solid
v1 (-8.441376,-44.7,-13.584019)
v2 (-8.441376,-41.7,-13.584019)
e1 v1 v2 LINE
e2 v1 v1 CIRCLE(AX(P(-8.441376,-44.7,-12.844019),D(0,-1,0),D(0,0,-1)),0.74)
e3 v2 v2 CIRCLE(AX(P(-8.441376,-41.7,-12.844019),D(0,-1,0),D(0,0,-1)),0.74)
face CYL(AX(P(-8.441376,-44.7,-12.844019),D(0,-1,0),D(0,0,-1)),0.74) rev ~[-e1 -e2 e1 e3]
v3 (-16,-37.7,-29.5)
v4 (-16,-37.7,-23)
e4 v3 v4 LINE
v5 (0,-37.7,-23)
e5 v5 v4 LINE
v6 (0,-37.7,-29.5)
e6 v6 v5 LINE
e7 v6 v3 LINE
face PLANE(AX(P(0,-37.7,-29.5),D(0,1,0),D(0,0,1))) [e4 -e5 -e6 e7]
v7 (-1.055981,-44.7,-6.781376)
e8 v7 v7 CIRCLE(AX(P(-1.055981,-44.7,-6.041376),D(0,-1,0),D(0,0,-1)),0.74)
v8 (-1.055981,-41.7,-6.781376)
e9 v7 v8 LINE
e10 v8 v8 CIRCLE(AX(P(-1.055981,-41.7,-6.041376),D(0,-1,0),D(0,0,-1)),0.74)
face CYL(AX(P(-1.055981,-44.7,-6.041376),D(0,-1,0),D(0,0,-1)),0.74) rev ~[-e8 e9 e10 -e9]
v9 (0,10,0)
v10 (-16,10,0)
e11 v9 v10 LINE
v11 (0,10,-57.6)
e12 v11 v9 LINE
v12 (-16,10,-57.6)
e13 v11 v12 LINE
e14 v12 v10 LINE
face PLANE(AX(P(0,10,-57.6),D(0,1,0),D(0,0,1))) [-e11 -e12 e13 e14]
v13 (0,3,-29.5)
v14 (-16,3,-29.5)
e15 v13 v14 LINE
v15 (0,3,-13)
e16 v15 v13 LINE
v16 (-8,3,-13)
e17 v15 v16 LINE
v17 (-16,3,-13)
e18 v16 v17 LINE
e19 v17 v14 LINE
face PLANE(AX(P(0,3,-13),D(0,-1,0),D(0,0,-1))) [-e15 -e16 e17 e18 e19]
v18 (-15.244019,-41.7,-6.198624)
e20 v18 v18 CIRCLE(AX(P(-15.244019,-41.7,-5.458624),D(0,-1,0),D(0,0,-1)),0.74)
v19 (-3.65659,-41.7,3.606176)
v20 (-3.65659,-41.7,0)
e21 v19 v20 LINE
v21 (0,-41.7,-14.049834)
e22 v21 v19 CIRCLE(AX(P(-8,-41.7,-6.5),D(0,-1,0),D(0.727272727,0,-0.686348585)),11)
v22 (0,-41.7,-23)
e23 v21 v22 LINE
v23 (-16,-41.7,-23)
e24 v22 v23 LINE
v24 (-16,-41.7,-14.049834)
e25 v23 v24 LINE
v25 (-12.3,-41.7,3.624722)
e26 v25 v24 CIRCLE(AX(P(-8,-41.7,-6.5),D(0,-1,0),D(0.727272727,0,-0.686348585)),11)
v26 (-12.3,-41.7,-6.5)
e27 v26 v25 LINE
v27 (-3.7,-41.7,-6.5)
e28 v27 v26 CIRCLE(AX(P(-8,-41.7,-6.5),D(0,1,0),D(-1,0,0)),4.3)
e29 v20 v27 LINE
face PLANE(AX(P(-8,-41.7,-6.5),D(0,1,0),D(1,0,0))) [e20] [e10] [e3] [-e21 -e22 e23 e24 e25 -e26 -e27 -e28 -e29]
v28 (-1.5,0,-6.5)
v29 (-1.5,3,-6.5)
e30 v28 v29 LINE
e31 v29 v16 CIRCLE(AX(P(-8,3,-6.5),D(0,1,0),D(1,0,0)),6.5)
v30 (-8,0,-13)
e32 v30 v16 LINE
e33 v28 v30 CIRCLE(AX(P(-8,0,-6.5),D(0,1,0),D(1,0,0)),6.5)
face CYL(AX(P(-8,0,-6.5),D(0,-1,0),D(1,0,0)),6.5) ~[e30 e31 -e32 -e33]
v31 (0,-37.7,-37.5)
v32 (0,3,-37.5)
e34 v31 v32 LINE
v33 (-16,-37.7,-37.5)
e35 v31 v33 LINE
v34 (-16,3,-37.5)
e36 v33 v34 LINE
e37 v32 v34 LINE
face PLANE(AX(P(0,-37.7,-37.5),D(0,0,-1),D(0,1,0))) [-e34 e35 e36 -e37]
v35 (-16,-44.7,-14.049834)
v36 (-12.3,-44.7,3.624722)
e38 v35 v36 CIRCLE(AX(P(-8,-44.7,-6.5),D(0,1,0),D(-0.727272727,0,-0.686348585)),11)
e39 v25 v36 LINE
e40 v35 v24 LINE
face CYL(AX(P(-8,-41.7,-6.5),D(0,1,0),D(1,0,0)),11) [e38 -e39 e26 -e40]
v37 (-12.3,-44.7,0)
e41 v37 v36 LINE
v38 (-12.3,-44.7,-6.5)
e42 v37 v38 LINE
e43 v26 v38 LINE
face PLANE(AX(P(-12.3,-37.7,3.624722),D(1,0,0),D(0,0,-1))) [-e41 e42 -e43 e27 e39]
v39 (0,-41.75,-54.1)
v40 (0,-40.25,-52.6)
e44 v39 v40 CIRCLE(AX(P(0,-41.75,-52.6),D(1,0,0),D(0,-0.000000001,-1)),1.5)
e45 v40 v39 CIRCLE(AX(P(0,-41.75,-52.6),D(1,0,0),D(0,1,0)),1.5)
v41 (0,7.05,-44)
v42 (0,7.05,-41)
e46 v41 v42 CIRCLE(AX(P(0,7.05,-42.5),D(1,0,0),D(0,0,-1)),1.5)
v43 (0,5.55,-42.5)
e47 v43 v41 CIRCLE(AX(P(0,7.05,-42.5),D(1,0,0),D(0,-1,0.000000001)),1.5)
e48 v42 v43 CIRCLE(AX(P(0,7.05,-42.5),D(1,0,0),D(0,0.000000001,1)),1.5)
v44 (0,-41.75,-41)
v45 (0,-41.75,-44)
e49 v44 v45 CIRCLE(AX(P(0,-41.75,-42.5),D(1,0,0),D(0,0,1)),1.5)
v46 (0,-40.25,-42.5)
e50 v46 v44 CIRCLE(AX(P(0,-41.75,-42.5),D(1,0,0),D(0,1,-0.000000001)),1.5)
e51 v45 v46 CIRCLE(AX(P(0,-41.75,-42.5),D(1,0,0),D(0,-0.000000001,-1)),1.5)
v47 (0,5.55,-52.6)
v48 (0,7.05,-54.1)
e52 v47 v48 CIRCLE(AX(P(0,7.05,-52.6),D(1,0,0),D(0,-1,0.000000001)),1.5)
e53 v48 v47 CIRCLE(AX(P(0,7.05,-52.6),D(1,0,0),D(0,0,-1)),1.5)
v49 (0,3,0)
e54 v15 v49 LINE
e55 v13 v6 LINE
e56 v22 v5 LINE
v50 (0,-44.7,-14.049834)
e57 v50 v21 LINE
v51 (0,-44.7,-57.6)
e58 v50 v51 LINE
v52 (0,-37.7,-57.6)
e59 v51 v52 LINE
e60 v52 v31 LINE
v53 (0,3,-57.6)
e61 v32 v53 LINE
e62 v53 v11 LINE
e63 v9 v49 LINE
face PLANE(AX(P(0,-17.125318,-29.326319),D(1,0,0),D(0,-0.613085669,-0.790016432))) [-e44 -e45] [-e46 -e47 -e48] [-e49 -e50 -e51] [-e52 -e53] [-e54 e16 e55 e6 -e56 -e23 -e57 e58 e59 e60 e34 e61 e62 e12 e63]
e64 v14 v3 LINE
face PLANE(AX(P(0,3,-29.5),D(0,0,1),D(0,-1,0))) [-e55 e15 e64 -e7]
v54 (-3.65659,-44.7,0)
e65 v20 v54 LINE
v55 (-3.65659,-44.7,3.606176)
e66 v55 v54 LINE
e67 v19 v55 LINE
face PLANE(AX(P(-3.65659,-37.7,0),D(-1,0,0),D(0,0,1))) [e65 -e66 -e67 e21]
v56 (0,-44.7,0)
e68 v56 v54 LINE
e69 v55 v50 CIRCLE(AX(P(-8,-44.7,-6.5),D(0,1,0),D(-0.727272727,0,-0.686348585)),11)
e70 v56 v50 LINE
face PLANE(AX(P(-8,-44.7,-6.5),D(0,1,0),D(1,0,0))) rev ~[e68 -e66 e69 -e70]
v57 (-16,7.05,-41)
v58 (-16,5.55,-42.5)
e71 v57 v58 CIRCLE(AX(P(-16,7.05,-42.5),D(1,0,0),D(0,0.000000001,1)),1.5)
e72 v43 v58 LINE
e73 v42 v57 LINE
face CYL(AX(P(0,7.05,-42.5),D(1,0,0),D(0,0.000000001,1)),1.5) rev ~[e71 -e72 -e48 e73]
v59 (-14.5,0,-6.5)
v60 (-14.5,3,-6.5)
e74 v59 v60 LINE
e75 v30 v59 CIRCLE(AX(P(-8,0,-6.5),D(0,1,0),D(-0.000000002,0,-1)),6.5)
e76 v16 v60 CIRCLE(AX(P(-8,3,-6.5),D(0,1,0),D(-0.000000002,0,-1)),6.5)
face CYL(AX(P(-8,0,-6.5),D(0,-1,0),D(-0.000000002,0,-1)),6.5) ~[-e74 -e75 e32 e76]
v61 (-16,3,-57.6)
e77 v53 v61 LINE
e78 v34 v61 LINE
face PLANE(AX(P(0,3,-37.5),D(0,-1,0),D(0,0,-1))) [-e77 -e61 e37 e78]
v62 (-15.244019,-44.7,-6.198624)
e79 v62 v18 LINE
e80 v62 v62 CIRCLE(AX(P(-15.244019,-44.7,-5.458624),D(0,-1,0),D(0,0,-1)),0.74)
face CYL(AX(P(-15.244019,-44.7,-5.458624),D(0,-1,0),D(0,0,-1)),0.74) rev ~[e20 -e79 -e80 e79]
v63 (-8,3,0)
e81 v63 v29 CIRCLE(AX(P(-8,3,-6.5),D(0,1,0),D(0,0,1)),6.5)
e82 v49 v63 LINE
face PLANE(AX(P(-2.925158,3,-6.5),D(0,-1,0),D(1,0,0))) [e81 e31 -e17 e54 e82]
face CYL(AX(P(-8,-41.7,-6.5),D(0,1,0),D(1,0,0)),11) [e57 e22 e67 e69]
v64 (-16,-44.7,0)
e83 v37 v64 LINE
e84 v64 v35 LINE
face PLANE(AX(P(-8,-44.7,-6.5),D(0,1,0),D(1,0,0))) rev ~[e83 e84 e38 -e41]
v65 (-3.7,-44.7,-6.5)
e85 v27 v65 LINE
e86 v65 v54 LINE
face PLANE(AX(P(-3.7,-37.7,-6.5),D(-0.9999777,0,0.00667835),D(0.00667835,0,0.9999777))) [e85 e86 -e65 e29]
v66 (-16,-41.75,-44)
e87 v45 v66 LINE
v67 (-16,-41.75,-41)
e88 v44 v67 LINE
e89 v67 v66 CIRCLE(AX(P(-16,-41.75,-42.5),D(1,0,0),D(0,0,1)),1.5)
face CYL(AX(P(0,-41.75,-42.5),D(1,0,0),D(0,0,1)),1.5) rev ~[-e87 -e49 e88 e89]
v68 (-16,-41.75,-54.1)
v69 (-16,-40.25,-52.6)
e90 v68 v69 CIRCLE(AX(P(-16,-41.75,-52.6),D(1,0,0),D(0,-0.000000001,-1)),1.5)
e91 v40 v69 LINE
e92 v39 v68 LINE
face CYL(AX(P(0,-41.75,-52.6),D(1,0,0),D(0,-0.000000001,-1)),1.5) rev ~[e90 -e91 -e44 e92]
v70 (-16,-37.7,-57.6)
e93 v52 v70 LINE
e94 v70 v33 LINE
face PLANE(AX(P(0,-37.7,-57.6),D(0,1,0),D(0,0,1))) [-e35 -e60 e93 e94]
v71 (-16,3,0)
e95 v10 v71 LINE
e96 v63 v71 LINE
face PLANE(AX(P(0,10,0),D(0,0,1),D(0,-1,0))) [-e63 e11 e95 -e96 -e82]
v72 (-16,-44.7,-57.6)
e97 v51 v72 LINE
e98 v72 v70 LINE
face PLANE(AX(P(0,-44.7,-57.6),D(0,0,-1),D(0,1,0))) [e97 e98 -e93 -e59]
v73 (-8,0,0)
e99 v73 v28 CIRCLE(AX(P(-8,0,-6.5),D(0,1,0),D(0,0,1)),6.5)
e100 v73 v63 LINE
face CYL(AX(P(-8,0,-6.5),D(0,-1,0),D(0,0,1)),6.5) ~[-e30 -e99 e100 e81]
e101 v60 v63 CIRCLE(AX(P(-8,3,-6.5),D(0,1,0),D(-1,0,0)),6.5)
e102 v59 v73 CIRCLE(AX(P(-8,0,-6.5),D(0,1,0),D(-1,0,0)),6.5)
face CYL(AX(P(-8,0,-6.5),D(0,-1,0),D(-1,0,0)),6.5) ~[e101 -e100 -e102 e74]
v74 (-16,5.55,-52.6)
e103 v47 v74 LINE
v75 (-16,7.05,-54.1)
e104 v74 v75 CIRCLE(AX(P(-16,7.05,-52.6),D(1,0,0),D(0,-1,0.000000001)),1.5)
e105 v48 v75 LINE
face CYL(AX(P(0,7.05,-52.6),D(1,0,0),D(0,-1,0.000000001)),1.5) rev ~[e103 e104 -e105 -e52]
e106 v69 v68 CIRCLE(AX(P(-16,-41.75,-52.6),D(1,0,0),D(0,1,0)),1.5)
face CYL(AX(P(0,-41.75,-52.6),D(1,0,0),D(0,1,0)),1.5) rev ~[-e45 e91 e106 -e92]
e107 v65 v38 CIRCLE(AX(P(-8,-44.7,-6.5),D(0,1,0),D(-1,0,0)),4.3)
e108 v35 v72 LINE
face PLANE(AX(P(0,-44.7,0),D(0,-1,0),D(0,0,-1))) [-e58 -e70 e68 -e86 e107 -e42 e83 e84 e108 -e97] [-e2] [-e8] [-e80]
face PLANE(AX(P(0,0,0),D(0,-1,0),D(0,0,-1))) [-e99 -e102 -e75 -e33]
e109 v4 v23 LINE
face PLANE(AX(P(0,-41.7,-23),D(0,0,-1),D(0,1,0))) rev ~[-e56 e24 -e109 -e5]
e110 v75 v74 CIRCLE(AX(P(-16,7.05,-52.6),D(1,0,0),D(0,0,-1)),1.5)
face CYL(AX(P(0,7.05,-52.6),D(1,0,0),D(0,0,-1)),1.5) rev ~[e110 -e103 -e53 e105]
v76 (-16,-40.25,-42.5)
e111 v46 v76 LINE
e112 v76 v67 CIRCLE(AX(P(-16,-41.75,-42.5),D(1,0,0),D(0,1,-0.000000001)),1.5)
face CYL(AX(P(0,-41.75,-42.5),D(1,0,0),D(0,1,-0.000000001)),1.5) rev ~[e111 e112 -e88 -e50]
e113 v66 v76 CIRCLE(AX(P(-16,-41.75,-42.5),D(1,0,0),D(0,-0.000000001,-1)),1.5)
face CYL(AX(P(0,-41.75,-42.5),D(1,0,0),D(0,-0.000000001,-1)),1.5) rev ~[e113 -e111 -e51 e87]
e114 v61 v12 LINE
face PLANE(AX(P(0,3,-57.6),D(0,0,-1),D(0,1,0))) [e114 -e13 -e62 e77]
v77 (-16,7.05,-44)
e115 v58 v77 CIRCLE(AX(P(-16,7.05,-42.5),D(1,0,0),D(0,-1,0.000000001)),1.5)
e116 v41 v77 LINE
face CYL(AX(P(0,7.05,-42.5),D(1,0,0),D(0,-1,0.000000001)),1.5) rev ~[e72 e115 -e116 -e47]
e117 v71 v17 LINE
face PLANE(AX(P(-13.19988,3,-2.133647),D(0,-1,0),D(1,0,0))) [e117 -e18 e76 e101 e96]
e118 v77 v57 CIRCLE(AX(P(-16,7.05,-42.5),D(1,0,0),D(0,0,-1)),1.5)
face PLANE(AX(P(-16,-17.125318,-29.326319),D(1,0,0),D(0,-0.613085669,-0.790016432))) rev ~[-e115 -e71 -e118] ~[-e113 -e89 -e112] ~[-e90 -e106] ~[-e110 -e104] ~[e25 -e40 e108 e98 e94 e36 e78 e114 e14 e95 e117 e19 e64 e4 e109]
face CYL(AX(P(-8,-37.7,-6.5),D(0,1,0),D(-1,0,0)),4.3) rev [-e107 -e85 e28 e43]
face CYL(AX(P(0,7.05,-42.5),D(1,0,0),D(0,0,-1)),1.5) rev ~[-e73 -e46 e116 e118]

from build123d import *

# Parameters (mm, degrees)
EXTRUDE_1_DEPTH     = 16
CUT_EXTRUDE_1_REACH = 76.645
CUT_EXTRUDE_2_DEPTH = 3
CUT_EXTRUDE_5_REACH = 76.645
SKETCH_7_W          = 23
SKETCH_7_H          = 4
SKETCH_10_R         = 11
EXTRUDE_3_DEPTH     = 3
CUT_EXTRUDE_4_REACH = 79.162
CUT_EXTRUDE_6_REACH = 83.675
SKETCH_11_R         = 0.74


with BuildPart() as part:
    # Sketch 3D_2 → Extrude 1 (new body)
    with BuildSketch(Plane(origin=(0, 0, 0), x_dir=(0, -0.6130856686286148, -0.7900164320583494), z_dir=(1, 0, 0))):
        Polygon((0, 0), (10.270213617, 7.970113692), (8.430956611, 10.340162988), (21.46622774, 20.456076521), (46.418814453, -11.697592264), (23.113329707, -29.783619489), (27.404929388, -35.313734513), (72.909875874, 0), (68.618276194, 5.530115024), (52.738945909, -6.792906915), (27.786359196, 25.36076187), (43.665689481, 37.683783809), (39.3740898, 43.213898834), (-6.130856686, 7.900164321), align=None)
    extrude(amount=-EXTRUDE_1_DEPTH)

    # Sketch 3 → Cut-Extrude 1 (cut, up to next)
    with BuildSketch(Plane(origin=(0, 0, 0), x_dir=(0, 0, -1), z_dir=(1, 0, 0)), mode=Mode.PRIVATE) as cut_extrude_1_sk1:
        with BuildLine():
            ThreePointArc((41, 7.05), (41.439339828, 5.989339828), (42.5, 5.55))
            Line((42.5, 5.55), (42.5, 7.05))
            Line((42.5, 7.05), (41, 7.05))
        make_face()
    cut_extrude_1_tool1 = extrude(cut_extrude_1_sk1.sketch, amount=-CUT_EXTRUDE_1_REACH, mode=Mode.PRIVATE) & part.part
    # Sketch 3 → Cut-Extrude 1 (cut, up to next)
    with BuildSketch(Plane(origin=(0, 0, 0), x_dir=(0, 0, -1), z_dir=(1, 0, 0)), mode=Mode.PRIVATE) as cut_extrude_1_sk2:
        with BuildLine():
            Line((42.5, 7.05), (42.5, 5.55))
            ThreePointArc((42.5, 5.55), (43.560660172, 5.989339828), (44, 7.05))
            ThreePointArc((44, 7.05), (42.5, 8.55), (41, 7.05))
            Line((41, 7.05), (42.5, 7.05))
        make_face()
    cut_extrude_1_tool2 = extrude(cut_extrude_1_sk2.sketch, amount=-CUT_EXTRUDE_1_REACH, mode=Mode.PRIVATE) & part.part
    # Sketch 3 → Cut-Extrude 1 (cut, up to next)
    with BuildSketch(Plane(origin=(0, 0, 0), x_dir=(0, 0, -1), z_dir=(1, 0, 0)), mode=Mode.PRIVATE) as cut_extrude_1_sk3:
        with BuildLine():
            ThreePointArc((41, 7.05), (41.439339828, 5.989339828), (42.5, 5.55))
            Line((42.5, 5.55), (42.5, 7.05))
            Line((42.5, 7.05), (41, 7.05))
        make_face()
    cut_extrude_1_tool3 = extrude(cut_extrude_1_sk3.sketch, amount=-CUT_EXTRUDE_1_REACH, mode=Mode.PRIVATE) & part.part
    # Sketch 3 → Cut-Extrude 1 (cut, up to next)
    with BuildSketch(Plane(origin=(0, 0, 0), x_dir=(0, 0, -1), z_dir=(1, 0, 0)), mode=Mode.PRIVATE) as cut_extrude_1_sk4:
        with BuildLine():
            Line((42.5, 7.05), (42.5, 5.55))
            ThreePointArc((42.5, 5.55), (43.560660172, 5.989339828), (44, 7.05))
            ThreePointArc((44, 7.05), (42.5, 8.55), (41, 7.05))
            Line((41, 7.05), (42.5, 7.05))
        make_face()
    cut_extrude_1_tool4 = extrude(cut_extrude_1_sk4.sketch, amount=-CUT_EXTRUDE_1_REACH, mode=Mode.PRIVATE) & part.part
    # Sketch 3 → Cut-Extrude 1 (cut, up to next)
    with BuildSketch(Plane(origin=(0, 0, 0), x_dir=(0, 0, -1), z_dir=(1, 0, 0)), mode=Mode.PRIVATE) as cut_extrude_1_sk5:
        with BuildLine():
            ThreePointArc((54.1, 7.05), (51.539339828, 8.110660172), (52.6, 5.55))
            Line((52.6, 5.55), (52.6, 7.05))
            Line((52.6, 7.05), (54.1, 7.05))
        make_face()
    cut_extrude_1_tool5 = extrude(cut_extrude_1_sk5.sketch, amount=-CUT_EXTRUDE_1_REACH, mode=Mode.PRIVATE) & part.part
    # Sketch 3 → Cut-Extrude 1 (cut, up to next)
    with BuildSketch(Plane(origin=(0, 0, 0), x_dir=(0, 0, -1), z_dir=(1, 0, 0)), mode=Mode.PRIVATE) as cut_extrude_1_sk6:
        with BuildLine():
            Line((52.6, 7.05), (52.6, 5.55))
            ThreePointArc((52.6, 5.55), (53.660660172, 5.989339828), (54.1, 7.05))
            Line((54.1, 7.05), (52.6, 7.05))
        make_face()
    cut_extrude_1_tool6 = extrude(cut_extrude_1_sk6.sketch, amount=-CUT_EXTRUDE_1_REACH, mode=Mode.PRIVATE) & part.part
    # Sketch 3 → Cut-Extrude 1 (cut, up to next)
    with BuildSketch(Plane(origin=(0, 0, 0), x_dir=(0, 0, -1), z_dir=(1, 0, 0)), mode=Mode.PRIVATE) as cut_extrude_1_sk7:
        with BuildLine():
            ThreePointArc((54.1, 7.05), (51.539339828, 8.110660172), (52.6, 5.55))
            Line((52.6, 5.55), (52.6, 7.05))
            Line((52.6, 7.05), (54.1, 7.05))
        make_face()
    cut_extrude_1_tool7 = extrude(cut_extrude_1_sk7.sketch, amount=-CUT_EXTRUDE_1_REACH, mode=Mode.PRIVATE) & part.part
    # Sketch 3 → Cut-Extrude 1 (cut, up to next)
    with BuildSketch(Plane(origin=(0, 0, 0), x_dir=(0, 0, -1), z_dir=(1, 0, 0)), mode=Mode.PRIVATE) as cut_extrude_1_sk8:
        with BuildLine():
            Line((52.6, 7.05), (52.6, 5.55))
            ThreePointArc((52.6, 5.55), (53.660660172, 5.989339828), (54.1, 7.05))
            Line((54.1, 7.05), (52.6, 7.05))
        make_face()
    cut_extrude_1_tool8 = extrude(cut_extrude_1_sk8.sketch, amount=-CUT_EXTRUDE_1_REACH, mode=Mode.PRIVATE) & part.part
    # Sketch 3 → Cut-Extrude 1 (cut, up to next)
    with BuildSketch(Plane(origin=(0, 0, 0), x_dir=(0, 0, -1), z_dir=(1, 0, 0)), mode=Mode.PRIVATE) as cut_extrude_1_sk9:
        with BuildLine():
            ThreePointArc((44, -41.75), (43.560660172, -40.689339828), (42.5, -40.25))
            Line((42.5, -40.25), (42.5, -41.75))
            Line((42.5, -41.75), (41, -41.75))
            ThreePointArc((41, -41.75), (42.5, -43.25), (44, -41.75))
        make_face()
    cut_extrude_1_tool9 = extrude(cut_extrude_1_sk9.sketch, amount=-CUT_EXTRUDE_1_REACH, mode=Mode.PRIVATE) & part.part
    # Sketch 3 → Cut-Extrude 1 (cut, up to next)
    with BuildSketch(Plane(origin=(0, 0, 0), x_dir=(0, 0, -1), z_dir=(1, 0, 0)), mode=Mode.PRIVATE) as cut_extrude_1_sk10:
        with BuildLine():
            Line((42.5, -41.75), (42.5, -40.25))
            ThreePointArc((42.5, -40.25), (41.439339828, -40.689339828), (41, -41.75))
            Line((41, -41.75), (42.5, -41.75))
        make_face()
    cut_extrude_1_tool10 = extrude(cut_extrude_1_sk10.sketch, amount=-CUT_EXTRUDE_1_REACH, mode=Mode.PRIVATE) & part.part
    # Sketch 3 → Cut-Extrude 1 (cut, up to next)
    with BuildSketch(Plane(origin=(0, 0, 0), x_dir=(0, 0, -1), z_dir=(1, 0, 0)), mode=Mode.PRIVATE) as cut_extrude_1_sk11:
        with BuildLine():
            ThreePointArc((44, -41.75), (43.560660172, -40.689339828), (42.5, -40.25))
            Line((42.5, -40.25), (42.5, -41.75))
            Line((42.5, -41.75), (41, -41.75))
            ThreePointArc((41, -41.75), (42.5, -43.25), (44, -41.75))
        make_face()
    cut_extrude_1_tool11 = extrude(cut_extrude_1_sk11.sketch, amount=-CUT_EXTRUDE_1_REACH, mode=Mode.PRIVATE) & part.part
    # Sketch 3 → Cut-Extrude 1 (cut, up to next)
    with BuildSketch(Plane(origin=(0, 0, 0), x_dir=(0, 0, -1), z_dir=(1, 0, 0)), mode=Mode.PRIVATE) as cut_extrude_1_sk12:
        with BuildLine():
            Line((42.5, -41.75), (42.5, -40.25))
            ThreePointArc((42.5, -40.25), (41.439339828, -40.689339828), (41, -41.75))
            Line((41, -41.75), (42.5, -41.75))
        make_face()
    cut_extrude_1_tool12 = extrude(cut_extrude_1_sk12.sketch, amount=-CUT_EXTRUDE_1_REACH, mode=Mode.PRIVATE) & part.part
    # Sketch 3 → Cut-Extrude 1 (cut, up to next)
    with BuildSketch(Plane(origin=(0, 0, 0), x_dir=(0, 0, -1), z_dir=(1, 0, 0)), mode=Mode.PRIVATE) as cut_extrude_1_sk13:
        with BuildLine():
            ThreePointArc((54.1, -41.75), (53.660660172, -40.689339828), (52.6, -40.25))
            Line((52.6, -40.25), (52.6, -41.75))
            Line((52.6, -41.75), (54.1, -41.75))
        make_face()
    cut_extrude_1_tool13 = extrude(cut_extrude_1_sk13.sketch, amount=-CUT_EXTRUDE_1_REACH, mode=Mode.PRIVATE) & part.part
    # Sketch 3 → Cut-Extrude 1 (cut, up to next)
    with BuildSketch(Plane(origin=(0, 0, 0), x_dir=(0, 0, -1), z_dir=(1, 0, 0)), mode=Mode.PRIVATE) as cut_extrude_1_sk14:
        with BuildLine():
            Line((52.6, -41.75), (52.6, -40.25))
            ThreePointArc((52.6, -40.25), (51.539339828, -42.810660172), (54.1, -41.75))
            Line((54.1, -41.75), (52.6, -41.75))
        make_face()
    cut_extrude_1_tool14 = extrude(cut_extrude_1_sk14.sketch, amount=-CUT_EXTRUDE_1_REACH, mode=Mode.PRIVATE) & part.part
    # Sketch 3 → Cut-Extrude 1 (cut, up to next)
    with BuildSketch(Plane(origin=(0, 0, 0), x_dir=(0, 0, -1), z_dir=(1, 0, 0)), mode=Mode.PRIVATE) as cut_extrude_1_sk15:
        with BuildLine():
            ThreePointArc((54.1, -41.75), (53.660660172, -40.689339828), (52.6, -40.25))
            Line((52.6, -40.25), (52.6, -41.75))
            Line((52.6, -41.75), (54.1, -41.75))
        make_face()
    cut_extrude_1_tool15 = extrude(cut_extrude_1_sk15.sketch, amount=-CUT_EXTRUDE_1_REACH, mode=Mode.PRIVATE) & part.part
    # Sketch 3 → Cut-Extrude 1 (cut, up to next)
    with BuildSketch(Plane(origin=(0, 0, 0), x_dir=(0, 0, -1), z_dir=(1, 0, 0)), mode=Mode.PRIVATE) as cut_extrude_1_sk16:
        with BuildLine():
            Line((52.6, -41.75), (52.6, -40.25))
            ThreePointArc((52.6, -40.25), (51.539339828, -42.810660172), (54.1, -41.75))
            Line((54.1, -41.75), (52.6, -41.75))
        make_face()
    cut_extrude_1_tool16 = extrude(cut_extrude_1_sk16.sketch, amount=-CUT_EXTRUDE_1_REACH, mode=Mode.PRIVATE) & part.part
    add(cut_extrude_1_tool1.solids().sort_by_distance((0, 6.41338, -41.86338))[0], mode=Mode.SUBTRACT)
    add(cut_extrude_1_tool2.solids().sort_by_distance((0, 7.262207, -42.712207))[0], mode=Mode.SUBTRACT)
    add(cut_extrude_1_tool3.solids().sort_by_distance((0, 6.41338, -41.86338))[0], mode=Mode.SUBTRACT)
    add(cut_extrude_1_tool4.solids().sort_by_distance((0, 7.262207, -42.712207))[0], mode=Mode.SUBTRACT)
    add(cut_extrude_1_tool5.solids().sort_by_distance((0, 7.262207, -52.387793))[0], mode=Mode.SUBTRACT)
    add(cut_extrude_1_tool6.solids().sort_by_distance((0, 6.41338, -53.23662))[0], mode=Mode.SUBTRACT)
    add(cut_extrude_1_tool7.solids().sort_by_distance((0, 7.262207, -52.387793))[0], mode=Mode.SUBTRACT)
    add(cut_extrude_1_tool8.solids().sort_by_distance((0, 6.41338, -53.23662))[0], mode=Mode.SUBTRACT)
    add(cut_extrude_1_tool9.solids().sort_by_distance((0, -41.962207, -42.712207))[0], mode=Mode.SUBTRACT)
    add(cut_extrude_1_tool10.solids().sort_by_distance((0, -41.11338, -41.86338))[0], mode=Mode.SUBTRACT)
    add(cut_extrude_1_tool11.solids().sort_by_distance((0, -41.962207, -42.712207))[0], mode=Mode.SUBTRACT)
    add(cut_extrude_1_tool12.solids().sort_by_distance((0, -41.11338, -41.86338))[0], mode=Mode.SUBTRACT)
    add(cut_extrude_1_tool13.solids().sort_by_distance((0, -41.11338, -53.23662))[0], mode=Mode.SUBTRACT)
    add(cut_extrude_1_tool14.solids().sort_by_distance((0, -41.962207, -52.387793))[0], mode=Mode.SUBTRACT)
    add(cut_extrude_1_tool15.solids().sort_by_distance((0, -41.11338, -53.23662))[0], mode=Mode.SUBTRACT)
    add(cut_extrude_1_tool16.solids().sort_by_distance((0, -41.962207, -52.387793))[0], mode=Mode.SUBTRACT)

    # Sketch 4 → Cut-Extrude 2 (cut)
    with BuildSketch(Plane.XZ):
        with BuildLine():
            Line((-8, 0), (-16, 0))
            Line((-16, 0), (-16, -6.5))
            Line((-16, -6.5), (-14.5, -6.5))
            ThreePointArc((-14.5, -6.5), (-12.596194078, -1.903805922), (-8, 0))
        make_face()
        with BuildLine():
            Line((-14.5, -6.5), (-16, -6.5))
            Line((-16, -6.5), (-16, -13))
            Line((-16, -13), (-8.000000015, -13))
            ThreePointArc((-8.000000015, -13), (-12.596194083, -11.096194072), (-14.5, -6.5))
        make_face()
        with BuildLine():
            Line((0, 0), (-8, 0))
            ThreePointArc((-8, 0), (-3.403805922, -1.903805922), (-1.5, -6.5))
            ThreePointArc((-1.5, -6.5), (-3.403805928, -11.096194083), (-8.000000015, -13))
            Line((-8.000000015, -13), (0, -13))
            Line((0, -13), (0, 0))
        make_face()
    extrude(amount=-CUT_EXTRUDE_2_DEPTH, mode=Mode.SUBTRACT)

    # Sketch 7 → Cut-Extrude 5 (cut, up to next)
    with BuildSketch(Plane(origin=(0, 0, 0), x_dir=(0, 0, -1), z_dir=(1, 0, 0)), mode=Mode.PRIVATE) as cut_extrude_5_sk1:
        with Locations((11.5, -39.7)):
            Rectangle(SKETCH_7_W, SKETCH_7_H)
    cut_extrude_5_tool1 = extrude(cut_extrude_5_sk1.sketch, amount=-CUT_EXTRUDE_5_REACH, mode=Mode.PRIVATE) & part.part
    add(cut_extrude_5_tool1.solids().sort_by_distance((0, -39.7, -11.5))[0], mode=Mode.SUBTRACT)

    # Sketch 10 → Extrude 3 (add)
    with BuildSketch(Plane(origin=(0, -41.7, 0), x_dir=(1, 0, 0), z_dir=(0, 1, 0))):
        with Locations((-8, 6.5)):
            Circle(SKETCH_10_R)
    extrude(amount=-EXTRUDE_3_DEPTH)

    # Sketch 5 → Cut-Extrude 4 (cut, up to next)
    with BuildSketch(Plane(origin=(0, -37.7, 0), x_dir=(1, 0, 0), z_dir=(0, 1, 0)), mode=Mode.PRIVATE) as cut_extrude_4_sk1:
        with BuildLine():
            Line((-3.7, 6.5), (-3.65658976, 0))
            Line((-3.65658976, 0), (-3.65658976, -3.60617571))
            ThreePointArc((-3.65658976, -3.60617571), (-7.976396918, -4.499974677), (-12.3, -3.624722218))
            Line((-12.3, -3.624722218), (-12.3, 0))
            Line((-12.3, 0), (-12.3, 6.5))
            ThreePointArc((-12.3, 6.5), (-8, 10.8), (-3.7, 6.5))
        make_face()
    cut_extrude_4_tool1 = extrude(cut_extrude_4_sk1.sketch, amount=-CUT_EXTRUDE_4_REACH, mode=Mode.PRIVATE) & part.part
    add(cut_extrude_4_tool1.solids().sort_by_distance((-7.989405, -37.7, -2.855539))[0], mode=Mode.SUBTRACT)

    # Sketch 11 → Cut-Extrude 6 (cut, up to next)
    with BuildSketch(Plane.XZ.offset(44.7), mode=Mode.PRIVATE) as cut_extrude_6_sk1:
        with Locations(Location((-1.05598139, -6.041375971, 0), (0, 0, 270))):
            Circle(SKETCH_11_R)
    cut_extrude_6_tool1 = extrude(cut_extrude_6_sk1.sketch, amount=-CUT_EXTRUDE_6_REACH, mode=Mode.PRIVATE) & part.part
    # Sketch 11 → Cut-Extrude 6 (cut, up to next)
    with BuildSketch(Plane.XZ.offset(44.7), mode=Mode.PRIVATE) as cut_extrude_6_sk2:
        with Locations(Location((-8.441375971, -12.84401861, 0), (0, 0, 270))):
            Circle(SKETCH_11_R)
    cut_extrude_6_tool2 = extrude(cut_extrude_6_sk2.sketch, amount=-CUT_EXTRUDE_6_REACH, mode=Mode.PRIVATE) & part.part
    # Sketch 11 → Cut-Extrude 6 (cut, up to next)
    with BuildSketch(Plane.XZ.offset(44.7), mode=Mode.PRIVATE) as cut_extrude_6_sk3:
        with Locations(Location((-15.24401861, -5.458624029, 0), (0, 0, 270))):
            Circle(SKETCH_11_R)
    cut_extrude_6_tool3 = extrude(cut_extrude_6_sk3.sketch, amount=-CUT_EXTRUDE_6_REACH, mode=Mode.PRIVATE) & part.part
    add(cut_extrude_6_tool1.solids().sort_by_distance((-1.055981, -44.7, -6.041376))[0], mode=Mode.SUBTRACT)
    add(cut_extrude_6_tool2.solids().sort_by_distance((-8.441376, -44.7, -12.844019))[0], mode=Mode.SUBTRACT)
    add(cut_extrude_6_tool3.solids().sort_by_distance((-15.244019, -44.7, -5.458624))[0], mode=Mode.SUBTRACT)


solid = part.part
